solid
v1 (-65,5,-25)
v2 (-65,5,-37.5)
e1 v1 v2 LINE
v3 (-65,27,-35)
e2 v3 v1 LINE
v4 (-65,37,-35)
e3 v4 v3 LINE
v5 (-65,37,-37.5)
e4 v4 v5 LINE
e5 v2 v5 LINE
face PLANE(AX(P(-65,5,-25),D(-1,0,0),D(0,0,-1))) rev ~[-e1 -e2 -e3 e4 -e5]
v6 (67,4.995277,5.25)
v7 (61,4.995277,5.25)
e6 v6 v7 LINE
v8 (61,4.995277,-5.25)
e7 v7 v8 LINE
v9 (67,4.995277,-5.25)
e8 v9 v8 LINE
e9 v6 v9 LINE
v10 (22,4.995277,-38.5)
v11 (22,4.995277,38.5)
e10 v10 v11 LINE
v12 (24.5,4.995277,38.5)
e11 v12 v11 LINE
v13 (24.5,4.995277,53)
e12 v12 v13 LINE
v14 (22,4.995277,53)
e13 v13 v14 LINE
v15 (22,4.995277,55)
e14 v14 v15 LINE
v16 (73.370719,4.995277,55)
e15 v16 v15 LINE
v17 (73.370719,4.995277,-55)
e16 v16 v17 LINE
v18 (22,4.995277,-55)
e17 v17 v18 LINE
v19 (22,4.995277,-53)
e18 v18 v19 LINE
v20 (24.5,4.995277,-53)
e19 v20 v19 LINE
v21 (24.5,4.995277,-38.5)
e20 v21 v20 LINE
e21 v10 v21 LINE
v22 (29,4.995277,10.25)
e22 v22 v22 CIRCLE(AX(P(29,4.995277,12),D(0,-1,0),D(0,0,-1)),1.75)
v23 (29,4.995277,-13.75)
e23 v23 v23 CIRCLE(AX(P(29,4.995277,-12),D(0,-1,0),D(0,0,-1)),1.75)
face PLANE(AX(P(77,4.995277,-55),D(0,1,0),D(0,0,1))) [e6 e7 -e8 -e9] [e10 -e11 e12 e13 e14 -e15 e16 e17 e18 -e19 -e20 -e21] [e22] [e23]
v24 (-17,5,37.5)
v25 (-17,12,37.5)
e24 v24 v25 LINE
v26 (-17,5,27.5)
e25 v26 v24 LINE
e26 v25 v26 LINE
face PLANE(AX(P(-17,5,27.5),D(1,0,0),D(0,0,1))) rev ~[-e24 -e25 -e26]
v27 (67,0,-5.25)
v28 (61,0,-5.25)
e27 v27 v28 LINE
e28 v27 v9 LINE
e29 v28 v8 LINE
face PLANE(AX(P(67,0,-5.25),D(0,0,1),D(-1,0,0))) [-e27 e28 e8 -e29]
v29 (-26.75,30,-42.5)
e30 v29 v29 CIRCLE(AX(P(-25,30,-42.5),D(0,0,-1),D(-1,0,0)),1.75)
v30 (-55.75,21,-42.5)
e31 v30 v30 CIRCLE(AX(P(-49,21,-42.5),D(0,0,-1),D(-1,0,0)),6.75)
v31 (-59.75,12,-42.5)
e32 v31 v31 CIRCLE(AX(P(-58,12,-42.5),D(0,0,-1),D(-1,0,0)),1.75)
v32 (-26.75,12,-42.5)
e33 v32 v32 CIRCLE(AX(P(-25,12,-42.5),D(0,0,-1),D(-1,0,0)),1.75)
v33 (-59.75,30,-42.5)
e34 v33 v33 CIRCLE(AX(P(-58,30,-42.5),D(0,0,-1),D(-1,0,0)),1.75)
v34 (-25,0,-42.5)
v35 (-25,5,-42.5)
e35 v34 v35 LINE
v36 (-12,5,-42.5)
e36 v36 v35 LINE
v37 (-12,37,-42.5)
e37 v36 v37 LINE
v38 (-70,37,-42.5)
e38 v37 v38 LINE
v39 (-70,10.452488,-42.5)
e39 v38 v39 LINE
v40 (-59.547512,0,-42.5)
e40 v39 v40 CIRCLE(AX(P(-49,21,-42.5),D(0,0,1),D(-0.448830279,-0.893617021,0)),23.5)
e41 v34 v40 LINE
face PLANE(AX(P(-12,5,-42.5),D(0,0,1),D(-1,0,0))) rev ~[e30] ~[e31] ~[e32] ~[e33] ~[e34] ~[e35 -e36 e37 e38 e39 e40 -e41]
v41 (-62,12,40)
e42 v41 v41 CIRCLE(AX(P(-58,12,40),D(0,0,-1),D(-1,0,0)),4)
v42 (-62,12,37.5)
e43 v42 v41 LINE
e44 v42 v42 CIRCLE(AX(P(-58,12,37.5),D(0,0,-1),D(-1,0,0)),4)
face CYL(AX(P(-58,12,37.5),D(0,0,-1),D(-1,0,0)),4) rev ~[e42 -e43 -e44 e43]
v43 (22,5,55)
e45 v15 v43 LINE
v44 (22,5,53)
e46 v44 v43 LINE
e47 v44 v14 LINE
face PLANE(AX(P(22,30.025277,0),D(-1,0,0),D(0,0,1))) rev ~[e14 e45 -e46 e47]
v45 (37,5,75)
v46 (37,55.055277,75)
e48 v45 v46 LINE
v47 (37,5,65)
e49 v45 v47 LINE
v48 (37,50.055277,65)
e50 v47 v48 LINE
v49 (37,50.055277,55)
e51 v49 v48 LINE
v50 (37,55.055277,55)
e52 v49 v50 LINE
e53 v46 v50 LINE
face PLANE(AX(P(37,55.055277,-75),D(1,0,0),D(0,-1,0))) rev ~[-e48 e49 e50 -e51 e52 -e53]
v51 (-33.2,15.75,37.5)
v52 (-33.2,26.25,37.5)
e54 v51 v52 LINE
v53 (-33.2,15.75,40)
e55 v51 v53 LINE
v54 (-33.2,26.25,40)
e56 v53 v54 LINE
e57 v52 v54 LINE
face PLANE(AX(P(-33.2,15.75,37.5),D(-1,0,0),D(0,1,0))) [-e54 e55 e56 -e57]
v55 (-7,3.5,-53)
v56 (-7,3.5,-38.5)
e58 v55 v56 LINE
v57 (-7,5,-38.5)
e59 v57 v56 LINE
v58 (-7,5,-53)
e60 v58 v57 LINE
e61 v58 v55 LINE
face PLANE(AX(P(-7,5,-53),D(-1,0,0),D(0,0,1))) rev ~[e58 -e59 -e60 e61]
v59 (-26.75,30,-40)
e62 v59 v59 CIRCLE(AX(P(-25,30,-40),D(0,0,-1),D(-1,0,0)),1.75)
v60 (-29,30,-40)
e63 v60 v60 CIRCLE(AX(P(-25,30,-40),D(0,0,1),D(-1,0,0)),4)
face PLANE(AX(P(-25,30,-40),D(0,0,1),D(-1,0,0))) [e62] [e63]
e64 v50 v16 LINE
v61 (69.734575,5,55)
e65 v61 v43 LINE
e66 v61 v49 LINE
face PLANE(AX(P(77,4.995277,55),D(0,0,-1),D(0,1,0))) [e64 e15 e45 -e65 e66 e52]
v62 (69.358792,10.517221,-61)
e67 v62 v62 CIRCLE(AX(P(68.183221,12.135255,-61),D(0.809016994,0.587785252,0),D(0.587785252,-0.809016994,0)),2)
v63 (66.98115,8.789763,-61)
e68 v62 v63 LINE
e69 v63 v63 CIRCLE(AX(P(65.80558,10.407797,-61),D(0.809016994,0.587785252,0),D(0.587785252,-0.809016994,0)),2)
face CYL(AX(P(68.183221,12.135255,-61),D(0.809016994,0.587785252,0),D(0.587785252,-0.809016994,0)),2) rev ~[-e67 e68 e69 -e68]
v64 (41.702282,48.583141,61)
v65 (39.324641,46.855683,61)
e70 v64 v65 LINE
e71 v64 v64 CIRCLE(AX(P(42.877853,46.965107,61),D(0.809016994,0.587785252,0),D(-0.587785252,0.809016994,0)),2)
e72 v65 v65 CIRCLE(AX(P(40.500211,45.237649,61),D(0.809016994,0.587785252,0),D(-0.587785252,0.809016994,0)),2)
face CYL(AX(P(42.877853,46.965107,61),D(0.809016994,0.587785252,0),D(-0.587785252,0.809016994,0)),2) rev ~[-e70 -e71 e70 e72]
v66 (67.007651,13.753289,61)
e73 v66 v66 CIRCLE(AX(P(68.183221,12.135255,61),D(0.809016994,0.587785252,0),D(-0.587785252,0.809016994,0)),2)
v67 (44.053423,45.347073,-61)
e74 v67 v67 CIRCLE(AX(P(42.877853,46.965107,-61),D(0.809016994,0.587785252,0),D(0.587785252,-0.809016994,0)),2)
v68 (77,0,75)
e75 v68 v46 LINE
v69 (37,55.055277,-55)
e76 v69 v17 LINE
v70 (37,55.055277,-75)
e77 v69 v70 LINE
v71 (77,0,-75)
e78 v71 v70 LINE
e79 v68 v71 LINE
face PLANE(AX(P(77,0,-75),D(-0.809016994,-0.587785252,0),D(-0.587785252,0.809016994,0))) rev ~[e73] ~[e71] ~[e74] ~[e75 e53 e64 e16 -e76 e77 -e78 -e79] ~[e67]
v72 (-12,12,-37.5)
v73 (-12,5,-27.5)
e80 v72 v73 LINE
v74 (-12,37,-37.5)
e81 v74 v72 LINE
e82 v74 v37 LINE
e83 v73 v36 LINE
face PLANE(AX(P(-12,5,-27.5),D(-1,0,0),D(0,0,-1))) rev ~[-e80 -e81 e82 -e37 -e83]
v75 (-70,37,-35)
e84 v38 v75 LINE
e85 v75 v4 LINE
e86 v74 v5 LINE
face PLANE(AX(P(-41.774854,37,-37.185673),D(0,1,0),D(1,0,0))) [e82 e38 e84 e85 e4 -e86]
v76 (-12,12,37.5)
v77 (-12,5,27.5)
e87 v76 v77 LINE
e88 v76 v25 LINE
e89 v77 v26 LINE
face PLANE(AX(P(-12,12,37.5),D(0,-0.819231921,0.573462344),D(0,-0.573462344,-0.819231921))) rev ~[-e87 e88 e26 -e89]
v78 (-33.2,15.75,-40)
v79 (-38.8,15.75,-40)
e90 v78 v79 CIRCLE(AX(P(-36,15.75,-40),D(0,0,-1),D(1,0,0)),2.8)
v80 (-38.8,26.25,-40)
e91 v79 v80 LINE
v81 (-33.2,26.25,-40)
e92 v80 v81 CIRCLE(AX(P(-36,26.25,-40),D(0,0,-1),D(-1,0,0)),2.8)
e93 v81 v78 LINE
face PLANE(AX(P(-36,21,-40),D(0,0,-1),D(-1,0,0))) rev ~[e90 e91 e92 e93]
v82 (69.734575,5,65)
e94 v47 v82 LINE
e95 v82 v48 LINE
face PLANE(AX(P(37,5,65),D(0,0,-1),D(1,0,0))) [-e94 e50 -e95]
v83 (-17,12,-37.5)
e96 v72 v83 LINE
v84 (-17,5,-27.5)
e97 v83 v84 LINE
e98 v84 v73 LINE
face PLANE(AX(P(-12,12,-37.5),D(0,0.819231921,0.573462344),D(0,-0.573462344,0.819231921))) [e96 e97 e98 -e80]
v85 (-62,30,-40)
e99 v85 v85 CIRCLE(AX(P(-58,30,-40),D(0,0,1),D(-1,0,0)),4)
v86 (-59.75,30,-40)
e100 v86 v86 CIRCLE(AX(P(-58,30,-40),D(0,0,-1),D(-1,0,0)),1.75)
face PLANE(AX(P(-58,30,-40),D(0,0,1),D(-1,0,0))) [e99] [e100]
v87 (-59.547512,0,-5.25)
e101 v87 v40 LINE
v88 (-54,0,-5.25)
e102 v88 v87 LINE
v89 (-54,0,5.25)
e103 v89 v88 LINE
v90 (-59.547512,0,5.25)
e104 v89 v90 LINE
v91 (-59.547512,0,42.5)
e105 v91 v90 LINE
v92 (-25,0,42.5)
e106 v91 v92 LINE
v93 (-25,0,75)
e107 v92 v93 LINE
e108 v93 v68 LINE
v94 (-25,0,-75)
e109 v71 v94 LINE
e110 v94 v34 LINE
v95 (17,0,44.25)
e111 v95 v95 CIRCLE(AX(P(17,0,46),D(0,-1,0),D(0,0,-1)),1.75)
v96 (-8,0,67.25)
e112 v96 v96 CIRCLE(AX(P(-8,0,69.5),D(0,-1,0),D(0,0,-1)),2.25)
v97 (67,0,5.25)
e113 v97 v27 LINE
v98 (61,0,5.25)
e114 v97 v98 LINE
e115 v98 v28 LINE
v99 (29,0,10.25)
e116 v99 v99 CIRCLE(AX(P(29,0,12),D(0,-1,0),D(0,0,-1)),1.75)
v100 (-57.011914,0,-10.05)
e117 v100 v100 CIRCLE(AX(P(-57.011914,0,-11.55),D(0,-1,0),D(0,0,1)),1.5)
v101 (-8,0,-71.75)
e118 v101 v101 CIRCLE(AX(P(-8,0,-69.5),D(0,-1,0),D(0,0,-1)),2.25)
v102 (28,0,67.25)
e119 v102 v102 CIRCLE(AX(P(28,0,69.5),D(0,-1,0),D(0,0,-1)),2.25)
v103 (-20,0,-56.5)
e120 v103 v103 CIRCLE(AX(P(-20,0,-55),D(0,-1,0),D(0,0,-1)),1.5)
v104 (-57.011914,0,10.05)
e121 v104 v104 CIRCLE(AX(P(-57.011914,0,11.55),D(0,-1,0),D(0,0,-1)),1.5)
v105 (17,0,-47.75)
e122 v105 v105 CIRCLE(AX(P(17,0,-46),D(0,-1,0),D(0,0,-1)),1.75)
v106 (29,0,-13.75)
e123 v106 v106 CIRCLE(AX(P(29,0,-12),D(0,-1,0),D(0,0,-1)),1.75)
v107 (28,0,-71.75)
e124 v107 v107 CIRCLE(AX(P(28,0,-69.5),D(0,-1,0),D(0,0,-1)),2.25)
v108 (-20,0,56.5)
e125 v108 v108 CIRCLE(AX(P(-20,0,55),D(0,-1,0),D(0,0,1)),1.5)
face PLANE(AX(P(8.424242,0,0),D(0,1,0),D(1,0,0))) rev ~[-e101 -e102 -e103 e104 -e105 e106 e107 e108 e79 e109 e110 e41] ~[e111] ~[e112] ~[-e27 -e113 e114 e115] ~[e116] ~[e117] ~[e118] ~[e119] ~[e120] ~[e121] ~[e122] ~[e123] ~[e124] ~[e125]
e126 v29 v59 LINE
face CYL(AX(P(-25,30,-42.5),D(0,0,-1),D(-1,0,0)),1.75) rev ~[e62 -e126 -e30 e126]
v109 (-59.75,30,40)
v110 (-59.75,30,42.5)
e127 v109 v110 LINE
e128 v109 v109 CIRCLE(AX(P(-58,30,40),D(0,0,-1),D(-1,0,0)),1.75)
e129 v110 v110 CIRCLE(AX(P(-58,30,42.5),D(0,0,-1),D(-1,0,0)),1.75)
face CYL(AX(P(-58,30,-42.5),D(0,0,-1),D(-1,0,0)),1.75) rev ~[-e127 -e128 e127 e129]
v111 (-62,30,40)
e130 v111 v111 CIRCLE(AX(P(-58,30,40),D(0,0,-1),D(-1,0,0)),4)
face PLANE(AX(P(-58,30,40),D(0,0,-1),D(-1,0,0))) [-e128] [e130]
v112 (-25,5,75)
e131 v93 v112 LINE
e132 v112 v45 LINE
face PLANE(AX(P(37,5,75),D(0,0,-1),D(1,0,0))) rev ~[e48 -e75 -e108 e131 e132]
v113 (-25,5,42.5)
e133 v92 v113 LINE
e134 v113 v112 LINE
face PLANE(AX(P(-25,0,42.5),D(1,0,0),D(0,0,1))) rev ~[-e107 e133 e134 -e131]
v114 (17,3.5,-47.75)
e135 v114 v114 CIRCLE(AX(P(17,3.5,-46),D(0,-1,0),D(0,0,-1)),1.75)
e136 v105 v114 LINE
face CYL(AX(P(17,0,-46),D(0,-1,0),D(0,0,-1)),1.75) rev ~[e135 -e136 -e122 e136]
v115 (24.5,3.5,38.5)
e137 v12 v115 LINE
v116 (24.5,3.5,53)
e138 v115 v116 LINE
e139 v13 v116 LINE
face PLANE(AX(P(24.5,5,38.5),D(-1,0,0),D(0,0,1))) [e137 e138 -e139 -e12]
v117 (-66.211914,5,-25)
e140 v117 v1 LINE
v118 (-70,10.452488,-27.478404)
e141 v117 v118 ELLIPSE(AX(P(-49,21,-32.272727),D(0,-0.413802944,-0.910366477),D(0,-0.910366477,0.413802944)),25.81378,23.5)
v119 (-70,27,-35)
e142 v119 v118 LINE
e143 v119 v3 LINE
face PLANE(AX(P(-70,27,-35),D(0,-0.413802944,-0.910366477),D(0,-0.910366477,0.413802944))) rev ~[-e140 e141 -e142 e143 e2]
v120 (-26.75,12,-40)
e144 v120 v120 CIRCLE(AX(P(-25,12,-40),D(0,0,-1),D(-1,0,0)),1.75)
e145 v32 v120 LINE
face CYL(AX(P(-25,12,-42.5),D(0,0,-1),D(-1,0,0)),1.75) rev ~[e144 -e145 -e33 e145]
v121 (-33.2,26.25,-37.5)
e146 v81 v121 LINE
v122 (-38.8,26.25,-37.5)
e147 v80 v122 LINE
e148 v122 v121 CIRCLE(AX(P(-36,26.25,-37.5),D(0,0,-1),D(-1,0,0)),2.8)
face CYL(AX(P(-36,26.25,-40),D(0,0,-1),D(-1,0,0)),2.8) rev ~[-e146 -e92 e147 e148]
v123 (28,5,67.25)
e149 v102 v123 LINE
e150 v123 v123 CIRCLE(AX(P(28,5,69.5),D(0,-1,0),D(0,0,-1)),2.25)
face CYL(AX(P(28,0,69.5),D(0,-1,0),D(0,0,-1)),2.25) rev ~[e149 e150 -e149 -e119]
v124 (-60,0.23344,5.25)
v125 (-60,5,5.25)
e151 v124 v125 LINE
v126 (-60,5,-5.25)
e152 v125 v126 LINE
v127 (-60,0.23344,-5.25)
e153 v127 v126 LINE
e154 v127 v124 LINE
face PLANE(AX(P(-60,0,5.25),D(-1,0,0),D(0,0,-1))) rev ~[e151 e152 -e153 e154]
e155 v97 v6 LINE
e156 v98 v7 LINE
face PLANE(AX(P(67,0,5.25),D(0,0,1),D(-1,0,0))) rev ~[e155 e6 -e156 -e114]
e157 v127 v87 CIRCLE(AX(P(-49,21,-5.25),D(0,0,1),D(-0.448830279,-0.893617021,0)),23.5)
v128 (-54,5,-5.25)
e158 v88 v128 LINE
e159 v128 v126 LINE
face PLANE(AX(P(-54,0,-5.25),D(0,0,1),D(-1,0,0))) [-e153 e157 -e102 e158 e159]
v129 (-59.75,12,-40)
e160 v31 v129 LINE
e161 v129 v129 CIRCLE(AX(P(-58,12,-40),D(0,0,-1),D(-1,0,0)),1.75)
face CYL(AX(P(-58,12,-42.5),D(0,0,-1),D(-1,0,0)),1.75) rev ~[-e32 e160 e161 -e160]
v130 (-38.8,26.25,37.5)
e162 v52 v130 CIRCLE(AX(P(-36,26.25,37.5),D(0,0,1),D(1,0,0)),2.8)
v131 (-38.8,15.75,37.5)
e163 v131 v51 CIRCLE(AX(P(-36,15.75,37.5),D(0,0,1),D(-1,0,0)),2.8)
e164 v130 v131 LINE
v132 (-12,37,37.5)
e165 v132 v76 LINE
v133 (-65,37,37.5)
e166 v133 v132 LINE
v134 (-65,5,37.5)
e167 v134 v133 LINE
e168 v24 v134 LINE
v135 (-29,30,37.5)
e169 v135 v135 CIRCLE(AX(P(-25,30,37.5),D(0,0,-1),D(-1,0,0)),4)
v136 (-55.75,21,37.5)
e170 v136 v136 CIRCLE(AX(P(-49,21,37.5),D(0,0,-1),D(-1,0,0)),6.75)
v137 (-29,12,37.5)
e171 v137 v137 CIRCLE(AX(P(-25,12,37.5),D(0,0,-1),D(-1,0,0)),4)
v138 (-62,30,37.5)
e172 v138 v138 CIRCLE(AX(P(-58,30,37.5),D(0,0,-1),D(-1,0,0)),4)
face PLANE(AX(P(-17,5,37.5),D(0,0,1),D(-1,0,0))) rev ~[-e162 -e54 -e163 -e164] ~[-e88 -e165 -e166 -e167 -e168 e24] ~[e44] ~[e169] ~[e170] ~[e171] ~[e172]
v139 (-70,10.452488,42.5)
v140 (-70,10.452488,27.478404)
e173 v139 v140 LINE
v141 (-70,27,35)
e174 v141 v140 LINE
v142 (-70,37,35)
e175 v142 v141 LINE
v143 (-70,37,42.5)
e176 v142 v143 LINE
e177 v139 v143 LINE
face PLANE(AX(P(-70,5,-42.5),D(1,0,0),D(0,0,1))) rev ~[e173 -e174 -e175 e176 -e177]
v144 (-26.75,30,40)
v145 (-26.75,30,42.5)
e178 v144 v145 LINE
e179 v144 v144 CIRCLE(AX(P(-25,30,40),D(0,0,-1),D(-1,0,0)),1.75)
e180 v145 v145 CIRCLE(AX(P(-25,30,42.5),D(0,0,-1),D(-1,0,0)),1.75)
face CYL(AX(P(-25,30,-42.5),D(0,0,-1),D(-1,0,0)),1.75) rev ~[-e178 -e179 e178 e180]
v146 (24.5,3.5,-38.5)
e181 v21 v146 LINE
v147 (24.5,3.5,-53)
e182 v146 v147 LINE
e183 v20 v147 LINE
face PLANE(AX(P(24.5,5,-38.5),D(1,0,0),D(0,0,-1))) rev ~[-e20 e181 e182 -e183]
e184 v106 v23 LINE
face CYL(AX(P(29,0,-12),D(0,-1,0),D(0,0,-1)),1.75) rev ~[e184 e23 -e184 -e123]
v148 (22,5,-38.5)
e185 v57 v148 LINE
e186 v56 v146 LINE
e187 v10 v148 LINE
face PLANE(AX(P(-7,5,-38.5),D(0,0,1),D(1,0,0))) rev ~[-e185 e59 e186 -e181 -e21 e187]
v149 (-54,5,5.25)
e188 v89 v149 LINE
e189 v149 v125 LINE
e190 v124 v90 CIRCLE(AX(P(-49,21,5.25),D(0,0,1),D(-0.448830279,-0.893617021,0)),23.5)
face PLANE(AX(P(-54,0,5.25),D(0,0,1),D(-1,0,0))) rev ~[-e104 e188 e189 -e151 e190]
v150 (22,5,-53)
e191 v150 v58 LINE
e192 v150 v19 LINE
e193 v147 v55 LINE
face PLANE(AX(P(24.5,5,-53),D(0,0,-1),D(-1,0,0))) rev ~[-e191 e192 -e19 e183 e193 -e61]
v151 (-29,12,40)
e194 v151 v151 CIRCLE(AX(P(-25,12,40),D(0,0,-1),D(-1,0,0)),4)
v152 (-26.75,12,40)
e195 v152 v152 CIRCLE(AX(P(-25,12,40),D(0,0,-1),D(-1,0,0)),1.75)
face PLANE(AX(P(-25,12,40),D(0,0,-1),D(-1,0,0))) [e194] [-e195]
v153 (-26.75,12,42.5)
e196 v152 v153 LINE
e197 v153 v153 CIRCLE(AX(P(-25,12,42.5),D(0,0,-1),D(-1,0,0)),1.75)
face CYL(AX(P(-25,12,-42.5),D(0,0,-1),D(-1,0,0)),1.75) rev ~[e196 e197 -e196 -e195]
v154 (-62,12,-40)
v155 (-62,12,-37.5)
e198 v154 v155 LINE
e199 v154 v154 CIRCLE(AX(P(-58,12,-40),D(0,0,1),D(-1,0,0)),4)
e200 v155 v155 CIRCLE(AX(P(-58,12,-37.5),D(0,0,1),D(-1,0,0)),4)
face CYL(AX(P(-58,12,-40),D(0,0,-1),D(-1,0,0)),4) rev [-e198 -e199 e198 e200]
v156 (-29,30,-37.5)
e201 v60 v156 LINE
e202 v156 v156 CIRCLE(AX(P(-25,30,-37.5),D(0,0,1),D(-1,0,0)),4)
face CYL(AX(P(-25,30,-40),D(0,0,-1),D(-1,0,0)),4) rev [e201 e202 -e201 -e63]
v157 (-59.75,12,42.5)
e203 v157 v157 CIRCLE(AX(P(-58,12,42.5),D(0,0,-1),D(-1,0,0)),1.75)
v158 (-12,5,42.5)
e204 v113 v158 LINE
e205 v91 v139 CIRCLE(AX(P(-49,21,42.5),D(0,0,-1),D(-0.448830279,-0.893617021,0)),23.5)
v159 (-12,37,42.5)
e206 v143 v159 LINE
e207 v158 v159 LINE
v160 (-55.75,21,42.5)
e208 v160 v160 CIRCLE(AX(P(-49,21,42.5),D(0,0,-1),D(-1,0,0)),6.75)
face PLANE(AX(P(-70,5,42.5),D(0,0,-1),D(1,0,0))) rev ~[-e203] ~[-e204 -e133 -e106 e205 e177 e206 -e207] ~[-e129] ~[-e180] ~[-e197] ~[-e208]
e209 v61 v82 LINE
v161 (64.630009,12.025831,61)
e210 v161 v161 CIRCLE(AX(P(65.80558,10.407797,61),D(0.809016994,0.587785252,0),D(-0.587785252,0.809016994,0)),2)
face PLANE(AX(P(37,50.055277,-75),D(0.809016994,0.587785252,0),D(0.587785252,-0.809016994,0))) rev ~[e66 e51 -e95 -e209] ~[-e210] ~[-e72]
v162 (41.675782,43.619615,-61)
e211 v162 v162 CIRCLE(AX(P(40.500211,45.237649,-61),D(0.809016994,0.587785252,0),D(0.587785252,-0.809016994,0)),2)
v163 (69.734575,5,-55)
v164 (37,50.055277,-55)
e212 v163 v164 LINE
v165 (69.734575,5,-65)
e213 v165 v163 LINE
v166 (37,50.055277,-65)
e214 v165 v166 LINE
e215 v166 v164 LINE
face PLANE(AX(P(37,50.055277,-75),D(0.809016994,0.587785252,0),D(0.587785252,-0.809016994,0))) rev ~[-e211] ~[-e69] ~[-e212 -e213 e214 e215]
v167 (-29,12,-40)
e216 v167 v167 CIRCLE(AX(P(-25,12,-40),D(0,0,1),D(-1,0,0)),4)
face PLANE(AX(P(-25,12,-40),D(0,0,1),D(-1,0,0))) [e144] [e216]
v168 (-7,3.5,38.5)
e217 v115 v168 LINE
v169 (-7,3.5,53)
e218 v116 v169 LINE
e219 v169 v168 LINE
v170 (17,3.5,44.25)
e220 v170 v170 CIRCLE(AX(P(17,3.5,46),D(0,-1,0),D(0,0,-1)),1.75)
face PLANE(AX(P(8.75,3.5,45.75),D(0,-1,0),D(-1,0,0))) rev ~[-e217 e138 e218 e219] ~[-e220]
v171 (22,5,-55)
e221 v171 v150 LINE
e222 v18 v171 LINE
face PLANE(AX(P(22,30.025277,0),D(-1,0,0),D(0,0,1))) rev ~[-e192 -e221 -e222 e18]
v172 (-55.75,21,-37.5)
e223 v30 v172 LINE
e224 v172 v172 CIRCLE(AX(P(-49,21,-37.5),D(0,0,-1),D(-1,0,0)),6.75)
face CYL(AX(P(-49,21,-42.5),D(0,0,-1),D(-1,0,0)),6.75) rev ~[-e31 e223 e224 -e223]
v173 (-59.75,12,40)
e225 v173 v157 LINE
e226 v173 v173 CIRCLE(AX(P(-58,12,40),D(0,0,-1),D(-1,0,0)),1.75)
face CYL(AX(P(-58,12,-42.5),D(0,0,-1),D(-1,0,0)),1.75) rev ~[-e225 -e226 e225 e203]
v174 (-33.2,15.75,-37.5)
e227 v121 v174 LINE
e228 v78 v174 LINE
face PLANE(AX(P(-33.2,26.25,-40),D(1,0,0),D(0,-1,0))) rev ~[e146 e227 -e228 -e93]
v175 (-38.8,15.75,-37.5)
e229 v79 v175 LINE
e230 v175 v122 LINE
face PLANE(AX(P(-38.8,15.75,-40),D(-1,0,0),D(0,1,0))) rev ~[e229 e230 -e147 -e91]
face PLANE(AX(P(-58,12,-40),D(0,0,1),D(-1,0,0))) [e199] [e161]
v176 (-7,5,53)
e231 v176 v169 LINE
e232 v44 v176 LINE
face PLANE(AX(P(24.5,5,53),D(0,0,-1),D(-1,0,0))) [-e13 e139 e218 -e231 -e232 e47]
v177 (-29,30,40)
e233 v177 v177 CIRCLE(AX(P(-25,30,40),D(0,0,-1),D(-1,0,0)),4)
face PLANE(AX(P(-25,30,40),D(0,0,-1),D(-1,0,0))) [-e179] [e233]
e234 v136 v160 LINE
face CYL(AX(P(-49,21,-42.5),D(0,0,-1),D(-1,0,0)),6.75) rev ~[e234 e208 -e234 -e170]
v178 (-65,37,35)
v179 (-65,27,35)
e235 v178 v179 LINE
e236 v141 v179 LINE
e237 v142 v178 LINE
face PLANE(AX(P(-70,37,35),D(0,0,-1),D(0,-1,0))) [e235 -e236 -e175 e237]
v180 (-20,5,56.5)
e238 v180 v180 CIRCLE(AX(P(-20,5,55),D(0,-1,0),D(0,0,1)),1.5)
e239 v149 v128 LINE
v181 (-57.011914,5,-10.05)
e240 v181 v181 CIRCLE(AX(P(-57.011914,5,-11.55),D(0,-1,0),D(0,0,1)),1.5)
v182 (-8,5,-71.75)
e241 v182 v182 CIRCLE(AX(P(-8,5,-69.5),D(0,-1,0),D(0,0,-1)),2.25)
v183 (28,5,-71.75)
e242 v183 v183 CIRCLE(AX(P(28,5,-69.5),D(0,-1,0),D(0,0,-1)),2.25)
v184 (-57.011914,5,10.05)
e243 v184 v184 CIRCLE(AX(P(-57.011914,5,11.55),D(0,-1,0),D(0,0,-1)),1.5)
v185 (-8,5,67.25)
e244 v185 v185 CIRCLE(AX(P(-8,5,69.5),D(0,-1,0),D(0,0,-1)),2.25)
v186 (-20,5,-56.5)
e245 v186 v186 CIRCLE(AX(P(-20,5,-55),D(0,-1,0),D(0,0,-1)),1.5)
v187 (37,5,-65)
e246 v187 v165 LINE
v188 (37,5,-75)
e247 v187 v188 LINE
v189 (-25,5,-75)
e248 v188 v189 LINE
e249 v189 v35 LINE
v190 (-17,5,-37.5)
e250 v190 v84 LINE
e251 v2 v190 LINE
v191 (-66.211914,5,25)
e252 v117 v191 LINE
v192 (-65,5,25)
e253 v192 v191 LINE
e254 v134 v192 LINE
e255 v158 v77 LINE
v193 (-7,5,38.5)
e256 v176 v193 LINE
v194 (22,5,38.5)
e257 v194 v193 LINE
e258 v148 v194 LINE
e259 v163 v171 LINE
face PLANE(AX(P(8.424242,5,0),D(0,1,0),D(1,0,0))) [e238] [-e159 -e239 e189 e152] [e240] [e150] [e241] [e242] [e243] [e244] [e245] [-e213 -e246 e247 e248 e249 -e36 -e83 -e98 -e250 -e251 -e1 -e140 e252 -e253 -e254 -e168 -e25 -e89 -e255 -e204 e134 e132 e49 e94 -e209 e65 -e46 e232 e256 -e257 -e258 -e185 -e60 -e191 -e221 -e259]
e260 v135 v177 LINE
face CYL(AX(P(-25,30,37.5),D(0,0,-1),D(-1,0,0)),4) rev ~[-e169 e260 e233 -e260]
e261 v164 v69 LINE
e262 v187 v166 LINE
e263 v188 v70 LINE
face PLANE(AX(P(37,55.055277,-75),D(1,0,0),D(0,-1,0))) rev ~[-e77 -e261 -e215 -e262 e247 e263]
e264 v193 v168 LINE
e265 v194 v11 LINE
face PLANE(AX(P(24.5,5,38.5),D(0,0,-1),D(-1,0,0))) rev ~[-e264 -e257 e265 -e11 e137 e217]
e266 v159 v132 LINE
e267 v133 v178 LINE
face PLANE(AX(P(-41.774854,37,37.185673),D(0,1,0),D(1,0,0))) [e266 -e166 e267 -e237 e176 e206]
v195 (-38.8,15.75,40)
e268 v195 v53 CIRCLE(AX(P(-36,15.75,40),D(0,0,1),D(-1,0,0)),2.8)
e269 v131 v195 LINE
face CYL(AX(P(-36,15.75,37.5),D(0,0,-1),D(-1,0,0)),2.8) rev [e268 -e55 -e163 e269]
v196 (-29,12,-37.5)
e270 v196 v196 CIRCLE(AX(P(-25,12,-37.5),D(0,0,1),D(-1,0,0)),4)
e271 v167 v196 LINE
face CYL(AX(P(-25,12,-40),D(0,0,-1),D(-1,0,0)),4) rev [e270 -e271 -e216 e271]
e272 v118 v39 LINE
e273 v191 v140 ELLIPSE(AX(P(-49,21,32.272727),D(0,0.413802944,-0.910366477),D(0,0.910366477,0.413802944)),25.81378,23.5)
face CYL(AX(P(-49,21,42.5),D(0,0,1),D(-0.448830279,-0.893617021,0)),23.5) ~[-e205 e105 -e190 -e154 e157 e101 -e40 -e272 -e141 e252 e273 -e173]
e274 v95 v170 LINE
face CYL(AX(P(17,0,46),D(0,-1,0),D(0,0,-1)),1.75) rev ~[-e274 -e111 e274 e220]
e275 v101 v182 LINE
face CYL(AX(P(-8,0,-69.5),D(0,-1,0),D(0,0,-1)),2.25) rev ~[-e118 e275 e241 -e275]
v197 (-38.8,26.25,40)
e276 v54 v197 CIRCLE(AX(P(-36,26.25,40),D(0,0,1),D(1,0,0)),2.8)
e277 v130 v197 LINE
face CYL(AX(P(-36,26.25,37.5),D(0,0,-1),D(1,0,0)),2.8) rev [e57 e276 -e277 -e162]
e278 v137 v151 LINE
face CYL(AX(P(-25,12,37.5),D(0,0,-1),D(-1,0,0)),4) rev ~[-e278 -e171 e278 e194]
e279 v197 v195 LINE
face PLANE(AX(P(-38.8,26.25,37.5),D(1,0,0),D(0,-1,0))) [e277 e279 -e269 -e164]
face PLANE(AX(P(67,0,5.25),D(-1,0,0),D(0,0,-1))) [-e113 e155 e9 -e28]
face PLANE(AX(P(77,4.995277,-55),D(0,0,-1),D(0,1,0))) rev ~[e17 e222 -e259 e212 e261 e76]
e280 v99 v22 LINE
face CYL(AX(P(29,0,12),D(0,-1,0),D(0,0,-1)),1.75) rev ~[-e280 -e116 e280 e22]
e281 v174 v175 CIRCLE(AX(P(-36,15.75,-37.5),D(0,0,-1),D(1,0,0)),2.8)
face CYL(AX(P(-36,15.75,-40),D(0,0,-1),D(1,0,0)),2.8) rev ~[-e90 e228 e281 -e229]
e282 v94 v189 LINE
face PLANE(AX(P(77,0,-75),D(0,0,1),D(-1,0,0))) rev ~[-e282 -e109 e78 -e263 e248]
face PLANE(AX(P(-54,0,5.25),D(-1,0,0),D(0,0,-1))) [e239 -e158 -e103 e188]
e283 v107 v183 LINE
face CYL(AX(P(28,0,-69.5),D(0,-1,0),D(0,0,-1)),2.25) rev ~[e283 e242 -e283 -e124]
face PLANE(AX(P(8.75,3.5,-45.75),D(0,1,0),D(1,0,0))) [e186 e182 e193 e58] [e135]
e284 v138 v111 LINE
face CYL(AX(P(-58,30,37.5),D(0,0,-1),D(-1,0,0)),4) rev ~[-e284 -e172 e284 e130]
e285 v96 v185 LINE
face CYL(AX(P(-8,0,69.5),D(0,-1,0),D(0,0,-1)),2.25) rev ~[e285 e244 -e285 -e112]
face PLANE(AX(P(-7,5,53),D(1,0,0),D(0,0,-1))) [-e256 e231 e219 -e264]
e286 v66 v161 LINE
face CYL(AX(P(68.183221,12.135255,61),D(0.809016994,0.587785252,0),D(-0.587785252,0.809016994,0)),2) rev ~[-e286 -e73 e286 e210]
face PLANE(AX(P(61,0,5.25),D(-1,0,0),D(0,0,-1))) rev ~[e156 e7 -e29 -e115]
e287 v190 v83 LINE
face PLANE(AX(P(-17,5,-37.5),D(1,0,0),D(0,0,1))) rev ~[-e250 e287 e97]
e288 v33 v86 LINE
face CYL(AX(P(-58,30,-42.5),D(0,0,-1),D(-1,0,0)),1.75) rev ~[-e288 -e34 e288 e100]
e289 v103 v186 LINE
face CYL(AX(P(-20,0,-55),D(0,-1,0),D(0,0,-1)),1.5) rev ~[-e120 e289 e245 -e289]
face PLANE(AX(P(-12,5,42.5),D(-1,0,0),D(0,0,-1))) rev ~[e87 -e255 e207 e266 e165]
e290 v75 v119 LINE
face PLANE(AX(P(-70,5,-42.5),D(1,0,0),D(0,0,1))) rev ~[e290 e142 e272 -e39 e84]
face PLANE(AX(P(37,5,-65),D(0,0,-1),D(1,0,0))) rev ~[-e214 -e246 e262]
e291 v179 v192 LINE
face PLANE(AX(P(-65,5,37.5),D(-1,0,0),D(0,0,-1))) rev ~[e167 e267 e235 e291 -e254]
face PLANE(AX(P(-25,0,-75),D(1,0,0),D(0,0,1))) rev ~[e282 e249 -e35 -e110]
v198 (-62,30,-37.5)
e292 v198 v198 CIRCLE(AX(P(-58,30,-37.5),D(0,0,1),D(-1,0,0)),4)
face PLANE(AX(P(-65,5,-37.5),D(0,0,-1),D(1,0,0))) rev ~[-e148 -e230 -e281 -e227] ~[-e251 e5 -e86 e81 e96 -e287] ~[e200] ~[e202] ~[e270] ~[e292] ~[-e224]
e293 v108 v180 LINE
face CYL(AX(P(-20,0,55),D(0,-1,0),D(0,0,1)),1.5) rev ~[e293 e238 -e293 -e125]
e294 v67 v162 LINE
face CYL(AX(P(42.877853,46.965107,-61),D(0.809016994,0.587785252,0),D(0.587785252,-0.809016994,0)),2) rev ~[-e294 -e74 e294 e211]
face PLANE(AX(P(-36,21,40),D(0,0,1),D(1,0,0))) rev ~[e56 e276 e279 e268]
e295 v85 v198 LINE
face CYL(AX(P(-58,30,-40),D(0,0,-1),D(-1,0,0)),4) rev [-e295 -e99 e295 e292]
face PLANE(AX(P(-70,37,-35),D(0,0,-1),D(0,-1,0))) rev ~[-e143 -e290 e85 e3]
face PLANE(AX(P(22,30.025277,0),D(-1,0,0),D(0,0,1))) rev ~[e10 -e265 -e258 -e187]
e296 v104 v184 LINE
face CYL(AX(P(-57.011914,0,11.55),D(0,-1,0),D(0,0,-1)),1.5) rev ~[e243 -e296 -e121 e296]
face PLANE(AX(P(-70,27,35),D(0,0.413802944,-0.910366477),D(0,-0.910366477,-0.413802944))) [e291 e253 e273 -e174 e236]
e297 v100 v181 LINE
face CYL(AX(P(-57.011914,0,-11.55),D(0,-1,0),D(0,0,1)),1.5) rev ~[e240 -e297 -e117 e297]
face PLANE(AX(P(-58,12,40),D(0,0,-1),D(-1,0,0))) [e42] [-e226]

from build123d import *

# Parameters (mm, degrees)
BOSS_EXTRUDE1_DEPTH = 5
BOSS_EXTRUDE2_DEPTH = 32
CUT_EXTRUDE2_DEPTH  = 5
CUT_EXTRUDE3_DEPTH  = 5
SKETCH7_R           = 6.75
SKETCH7_R_2         = 1.75
C_L_NG_C_DEPTH      = 146.27301883
SKETCH8_W           = 40
SKETCH8_H           = 10
BOSS_EXTRUDE3_DEPTH = 55
CUT_EXTRUDE5_DEPTH  = 179.966477308
SKETCH10_R          = 1.75
SKETCH10_R_2        = 2.25
C_L_DEPTH           = 121.768719069
BOSS_EXTRUDE4_REACH = 179.37
CUT_EXTRUDE7_DEPTH  = 5
SKETCH14_R          = 4
CUT_EXTRUDE8_DEPTH  = 2.5
CUT_EXTRUDE9_START  = -2.5
SKETCH15_R          = 4
CUT_EXTRUDE9_DEPTH  = 2.5
SKETCH16_W          = 6
SKETCH16_H          = 10.5
CUT_EXTRUDE10_DEPTH = 5
SKETCH20_W          = 110
SKETCH20_H          = 50.06
CUT_EXTRUDE11_DEPTH = 55
SKETCH22_R          = 2
CUT_EXTRUDE12_DEPTH = 5
CUT_EXTRUDE13_DEPTH = 1.5
CUT_EXTRUDE15_DEPTH = 89
SKETCH26_R          = 1.5
CUT_EXTRUDE16_DEPTH = 5


with BuildPart() as part:
    # Sketch1 → Boss-Extrude1 (new body)
    with BuildSketch(Plane(origin=(0, 0, 0), x_dir=(1, 0, 0), z_dir=(0, 1, 0))):
        Polygon((-25, 75), (-25, 42.5), (-70, 42.5), (-70, -42.5), (-25, -42.5), (-25, -75), (77, -75), (77, 75), align=None)
    extrude(amount=BOSS_EXTRUDE1_DEPTH)

    # Sketch3 → Boss-Extrude2 (add)
    with BuildSketch(Plane(origin=(0, 5, 0), x_dir=(1, 0, 0), z_dir=(0, 1, 0))):
        Polygon((-70, 25), (-65, 25), (-65, 37.5), (-17, 37.5), (-17, 27.5), (-12, 27.5), (-12, 42.5), (-70, 42.5), align=None)
        Polygon((-70, -25), (-70, -42.5), (-12, -42.5), (-12, -27.5), (-17, -27.5), (-17, -37.5), (-65, -37.5), (-65, -25), align=None)
    extrude(amount=BOSS_EXTRUDE2_DEPTH)

    # Sketch5 → Cut-Extrude2 (cut)
    with BuildSketch(Plane.ZY.offset(70)):
        Polygon((-25, 37), (-35, 37), (-35, 27), (-25, 5), align=None)
        Polygon((25, 5), (25, 37), (35, 37), (35, 27), align=None)
    extrude(amount=-CUT_EXTRUDE2_DEPTH, mode=Mode.SUBTRACT)

    # Sketch6 → Cut-Extrude3 (cut)
    with BuildSketch(Plane(origin=(-12, 0, 0), x_dir=(0, 0, -1), z_dir=(1, 0, 0))):
        Polygon((-27.5, 37), (-37.5, 37), (-37.5, 12), (-27.5, 5), align=None)
        Polygon((37.5, 12), (27.5, 5), (27.5, 37), (37.5, 37), align=None)
    extrude(amount=-CUT_EXTRUDE3_DEPTH, mode=Mode.SUBTRACT)

    # Sketch7 → Đục lỗ động cơ (cut, through all)
    with BuildSketch(Plane(origin=(0, 0, -42.5), x_dir=(-1, 0, 0), z_dir=(0, 0, -1))):
        with Locations((49, 21)):
            Circle(SKETCH7_R)
        with Locations((25, 30)):
            Circle(SKETCH7_R_2)
        with Locations((25, 12)):
            Circle(SKETCH7_R_2)
        with Locations((58, 30)):
            Circle(SKETCH7_R_2)
        with Locations((58, 12)):
            Circle(SKETCH7_R_2)
    extrude(amount=-C_L_NG_C_DEPTH, mode=Mode.SUBTRACT)

    # Sketch8 → Boss-Extrude3 (add)
    with BuildSketch(Plane(origin=(0, 5, 0), x_dir=(1, 0, 0), z_dir=(0, 1, 0))):
        with Locations((57, -70)):
            Rectangle(SKETCH8_W, SKETCH8_H)
        with Locations((57, 70)):
            Rectangle(SKETCH8_W, SKETCH8_H)
    extrude(amount=BOSS_EXTRUDE3_DEPTH)

    # Sketch9 → Cut-Extrude5 (cut, through all)
    with BuildSketch(Plane(origin=(0, 0, -75), x_dir=(-1, 0, 0), z_dir=(0, 0, -1))):
        Polygon((-77, 0), (-37, 55.055276819), (-37, 60), (-77, 60), align=None)
    extrude(amount=-CUT_EXTRUDE5_DEPTH, mode=Mode.SUBTRACT)

    # Sketch10 → Đục Lỗ Đế (cut, through all)
    with BuildSketch(Plane(origin=(0, 0, 0), x_dir=(-1, 0, 0), z_dir=(0, -1, 0))):
        with Locations((-29, -12)):
            Circle(SKETCH10_R)
        with Locations((-17, -46)):
            Circle(SKETCH10_R)
        with Locations((-17, 46)):
            Circle(SKETCH10_R)
        with Locations((-29, 12)):
            Circle(SKETCH10_R)
        with Locations((-28, -69.5)):
            Circle(SKETCH10_R_2)
        with Locations((8, -69.5)):
            Circle(SKETCH10_R_2)
        with Locations((8, 69.5)):
            Circle(SKETCH10_R_2)
        with Locations((-28, 69.5)):
            Circle(SKETCH10_R_2)
    extrude(amount=-C_L_DEPTH, mode=Mode.SUBTRACT)

    # Sketch11 → Boss-Extrude4 (add, up to next)
    with BuildSketch(Plane(origin=(0, 0, -75), x_dir=(-1, 0, 0), z_dir=(0, 0, -1)), mode=Mode.PRIVATE) as boss_extrude4_sk1:
        Polygon((-37, 55.055276819), (-37, 50.055276819), (-73.36728736, 0), (-77, 0), align=None)
    boss_extrude4_tool1 = extrude(boss_extrude4_sk1.sketch, amount=-BOSS_EXTRUDE4_REACH, mode=Mode.PRIVATE) - part.part
    add(boss_extrude4_tool1.solids().sort_by_distance((56.106222, 26.297459, -75))[0])

    # Sketch13 → Cut-Extrude7 (cut)
    with BuildSketch(Plane(origin=(50.397154283, 36.615675877, 0), x_dir=(0, 0, -1), z_dir=(0.8090169943749486, 0.5877852522924716, 0))):
        Polygon((-48.866988089, -10.026742728), (-52.405674619, -31.039898345), (-7.731971797, -31.499332186), (-4.277711394, -9.567044368), align=None)
        Polygon((49.555844988, -9.567176647), (3.94811969, -10.026742728), (7.33, -31.499464427), (53.010105385, -31.499464427), align=None)
    extrude(amount=-CUT_EXTRUDE7_DEPTH, mode=Mode.SUBTRACT)

    # Sketch14 → Cut-Extrude8 (cut)
    with BuildSketch(Plane(origin=(0, 0, 37.5), x_dir=(-1, 0, 0), z_dir=(0, 0, -1))):
        with Locations((58, 30)):
            Circle(SKETCH14_R)
        with Locations((25, 30)):
            Circle(SKETCH14_R)
        with Locations((25, 12)):
            Circle(SKETCH14_R)
        with Locations((58, 12)):
            Circle(SKETCH14_R)
        with BuildLine():
            Line((38.8, 26.25), (38.8, 15.75))
            ThreePointArc((38.8, 15.75), (36, 12.95), (33.2, 15.75))
            Line((33.2, 15.75), (33.2, 26.25))
            ThreePointArc((33.2, 26.25), (36, 29.05), (38.8, 26.25))
        make_face()
    extrude(amount=-CUT_EXTRUDE8_DEPTH, mode=Mode.SUBTRACT)

    # Sketch15 → Cut-Extrude9 (cut)
    with BuildSketch(Plane.XY.offset(-37.5).offset(CUT_EXTRUDE9_START)):
        with Locations((-25, 30)):
            Circle(SKETCH15_R)
        with Locations((-25, 12)):
            Circle(SKETCH15_R)
        with Locations((-58, 12)):
            Circle(SKETCH15_R)
        with Locations((-58, 30)):
            Circle(SKETCH15_R)
        with BuildLine():
            Line((-33.2, 26.25), (-33.2, 15.75))
            ThreePointArc((-33.2, 15.75), (-36, 12.95), (-38.8, 15.75))
            Line((-38.8, 15.75), (-38.8, 26.25))
            ThreePointArc((-38.8, 26.25), (-36, 29.05), (-33.2, 26.25))
        make_face()
    extrude(amount=CUT_EXTRUDE9_DEPTH, mode=Mode.SUBTRACT)

    # Sketch16 → Cut-Extrude10 (cut)
    with BuildSketch(Plane(origin=(0, 0, 0), x_dir=(-1, 0, 0), z_dir=(0, -1, 0))):
        with Locations((57, 0)):
            Rectangle(SKETCH16_W, SKETCH16_H)
        with Locations((-64, 0)):
            Rectangle(SKETCH16_W, SKETCH16_H)
    extrude(amount=-CUT_EXTRUDE10_DEPTH, mode=Mode.SUBTRACT)

    # Sketch20 → Cut-Extrude11 (cut)
    with BuildSketch(Plane.ZY.offset(-77)):
        with Locations((0, 30.025276819)):
            Rectangle(SKETCH20_W, SKETCH20_H)
    extrude(amount=CUT_EXTRUDE11_DEPTH, mode=Mode.SUBTRACT)

    # Sketch22 → Cut-Extrude12 (cut)
    with BuildSketch(Plane(origin=(50.397154283, 36.615675877, 0), x_dir=(0, 0, -1), z_dir=(0.8090169943749486, 0.5877852522924716, 0))):
        with Locations((-61, 12.792600242)):
            Circle(SKETCH22_R)
        with Locations((-61, -30.259464427)):
            Circle(SKETCH22_R)
        with Locations((61, -30.259464427)):
            Circle(SKETCH22_R)
        with Locations((61, 12.792600242)):
            Circle(SKETCH22_R)
    extrude(amount=-CUT_EXTRUDE12_DEPTH, mode=Mode.SUBTRACT)

    # Sketch23 → Cut-Extrude13 (cut)
    with BuildSketch(Plane(origin=(0, 5, 0), x_dir=(1, 0, 0), z_dir=(0, 1, 0))):
        Polygon((-7, 38.5), (-6, 38.5), (0, 38.5), (24.5, 38.5), (24.5, 53), (-7, 53), align=None)
        Polygon((24.5, -38.5), (24.5, -53), (-7, -53), (-7, -38.5), (-6, -38.5), (0, -38.5), align=None)
    extrude(amount=-CUT_EXTRUDE13_DEPTH, mode=Mode.SUBTRACT)

    # Sketch25 → Cut-Extrude15 (cut)
    with BuildSketch(Plane.XY.offset(42.5)):
        with BuildLine():
            Line((-70, 10.452488445), (-70, 0))
            Line((-70, 0), (-59.547511555, 0))
            ThreePointArc((-59.547511555, 0), (-65.617009358, 4.382990642), (-70, 10.452488445))
        make_face()
    extrude(amount=-CUT_EXTRUDE15_DEPTH, mode=Mode.SUBTRACT)

    # Sketch26 → Cut-Extrude16 (cut)
    with BuildSketch(Plane.XZ):
        with Locations((-57.011914478, 11.55)):
            Circle(SKETCH26_R)
        with Locations((-57.011914478, -11.55)):
            Circle(SKETCH26_R)
        with Locations((-20, -55)):
            Circle(SKETCH26_R)
        with Locations((-20, 55)):
            Circle(SKETCH26_R)
    extrude(amount=-CUT_EXTRUDE16_DEPTH, mode=Mode.SUBTRACT)


solid = part.part
